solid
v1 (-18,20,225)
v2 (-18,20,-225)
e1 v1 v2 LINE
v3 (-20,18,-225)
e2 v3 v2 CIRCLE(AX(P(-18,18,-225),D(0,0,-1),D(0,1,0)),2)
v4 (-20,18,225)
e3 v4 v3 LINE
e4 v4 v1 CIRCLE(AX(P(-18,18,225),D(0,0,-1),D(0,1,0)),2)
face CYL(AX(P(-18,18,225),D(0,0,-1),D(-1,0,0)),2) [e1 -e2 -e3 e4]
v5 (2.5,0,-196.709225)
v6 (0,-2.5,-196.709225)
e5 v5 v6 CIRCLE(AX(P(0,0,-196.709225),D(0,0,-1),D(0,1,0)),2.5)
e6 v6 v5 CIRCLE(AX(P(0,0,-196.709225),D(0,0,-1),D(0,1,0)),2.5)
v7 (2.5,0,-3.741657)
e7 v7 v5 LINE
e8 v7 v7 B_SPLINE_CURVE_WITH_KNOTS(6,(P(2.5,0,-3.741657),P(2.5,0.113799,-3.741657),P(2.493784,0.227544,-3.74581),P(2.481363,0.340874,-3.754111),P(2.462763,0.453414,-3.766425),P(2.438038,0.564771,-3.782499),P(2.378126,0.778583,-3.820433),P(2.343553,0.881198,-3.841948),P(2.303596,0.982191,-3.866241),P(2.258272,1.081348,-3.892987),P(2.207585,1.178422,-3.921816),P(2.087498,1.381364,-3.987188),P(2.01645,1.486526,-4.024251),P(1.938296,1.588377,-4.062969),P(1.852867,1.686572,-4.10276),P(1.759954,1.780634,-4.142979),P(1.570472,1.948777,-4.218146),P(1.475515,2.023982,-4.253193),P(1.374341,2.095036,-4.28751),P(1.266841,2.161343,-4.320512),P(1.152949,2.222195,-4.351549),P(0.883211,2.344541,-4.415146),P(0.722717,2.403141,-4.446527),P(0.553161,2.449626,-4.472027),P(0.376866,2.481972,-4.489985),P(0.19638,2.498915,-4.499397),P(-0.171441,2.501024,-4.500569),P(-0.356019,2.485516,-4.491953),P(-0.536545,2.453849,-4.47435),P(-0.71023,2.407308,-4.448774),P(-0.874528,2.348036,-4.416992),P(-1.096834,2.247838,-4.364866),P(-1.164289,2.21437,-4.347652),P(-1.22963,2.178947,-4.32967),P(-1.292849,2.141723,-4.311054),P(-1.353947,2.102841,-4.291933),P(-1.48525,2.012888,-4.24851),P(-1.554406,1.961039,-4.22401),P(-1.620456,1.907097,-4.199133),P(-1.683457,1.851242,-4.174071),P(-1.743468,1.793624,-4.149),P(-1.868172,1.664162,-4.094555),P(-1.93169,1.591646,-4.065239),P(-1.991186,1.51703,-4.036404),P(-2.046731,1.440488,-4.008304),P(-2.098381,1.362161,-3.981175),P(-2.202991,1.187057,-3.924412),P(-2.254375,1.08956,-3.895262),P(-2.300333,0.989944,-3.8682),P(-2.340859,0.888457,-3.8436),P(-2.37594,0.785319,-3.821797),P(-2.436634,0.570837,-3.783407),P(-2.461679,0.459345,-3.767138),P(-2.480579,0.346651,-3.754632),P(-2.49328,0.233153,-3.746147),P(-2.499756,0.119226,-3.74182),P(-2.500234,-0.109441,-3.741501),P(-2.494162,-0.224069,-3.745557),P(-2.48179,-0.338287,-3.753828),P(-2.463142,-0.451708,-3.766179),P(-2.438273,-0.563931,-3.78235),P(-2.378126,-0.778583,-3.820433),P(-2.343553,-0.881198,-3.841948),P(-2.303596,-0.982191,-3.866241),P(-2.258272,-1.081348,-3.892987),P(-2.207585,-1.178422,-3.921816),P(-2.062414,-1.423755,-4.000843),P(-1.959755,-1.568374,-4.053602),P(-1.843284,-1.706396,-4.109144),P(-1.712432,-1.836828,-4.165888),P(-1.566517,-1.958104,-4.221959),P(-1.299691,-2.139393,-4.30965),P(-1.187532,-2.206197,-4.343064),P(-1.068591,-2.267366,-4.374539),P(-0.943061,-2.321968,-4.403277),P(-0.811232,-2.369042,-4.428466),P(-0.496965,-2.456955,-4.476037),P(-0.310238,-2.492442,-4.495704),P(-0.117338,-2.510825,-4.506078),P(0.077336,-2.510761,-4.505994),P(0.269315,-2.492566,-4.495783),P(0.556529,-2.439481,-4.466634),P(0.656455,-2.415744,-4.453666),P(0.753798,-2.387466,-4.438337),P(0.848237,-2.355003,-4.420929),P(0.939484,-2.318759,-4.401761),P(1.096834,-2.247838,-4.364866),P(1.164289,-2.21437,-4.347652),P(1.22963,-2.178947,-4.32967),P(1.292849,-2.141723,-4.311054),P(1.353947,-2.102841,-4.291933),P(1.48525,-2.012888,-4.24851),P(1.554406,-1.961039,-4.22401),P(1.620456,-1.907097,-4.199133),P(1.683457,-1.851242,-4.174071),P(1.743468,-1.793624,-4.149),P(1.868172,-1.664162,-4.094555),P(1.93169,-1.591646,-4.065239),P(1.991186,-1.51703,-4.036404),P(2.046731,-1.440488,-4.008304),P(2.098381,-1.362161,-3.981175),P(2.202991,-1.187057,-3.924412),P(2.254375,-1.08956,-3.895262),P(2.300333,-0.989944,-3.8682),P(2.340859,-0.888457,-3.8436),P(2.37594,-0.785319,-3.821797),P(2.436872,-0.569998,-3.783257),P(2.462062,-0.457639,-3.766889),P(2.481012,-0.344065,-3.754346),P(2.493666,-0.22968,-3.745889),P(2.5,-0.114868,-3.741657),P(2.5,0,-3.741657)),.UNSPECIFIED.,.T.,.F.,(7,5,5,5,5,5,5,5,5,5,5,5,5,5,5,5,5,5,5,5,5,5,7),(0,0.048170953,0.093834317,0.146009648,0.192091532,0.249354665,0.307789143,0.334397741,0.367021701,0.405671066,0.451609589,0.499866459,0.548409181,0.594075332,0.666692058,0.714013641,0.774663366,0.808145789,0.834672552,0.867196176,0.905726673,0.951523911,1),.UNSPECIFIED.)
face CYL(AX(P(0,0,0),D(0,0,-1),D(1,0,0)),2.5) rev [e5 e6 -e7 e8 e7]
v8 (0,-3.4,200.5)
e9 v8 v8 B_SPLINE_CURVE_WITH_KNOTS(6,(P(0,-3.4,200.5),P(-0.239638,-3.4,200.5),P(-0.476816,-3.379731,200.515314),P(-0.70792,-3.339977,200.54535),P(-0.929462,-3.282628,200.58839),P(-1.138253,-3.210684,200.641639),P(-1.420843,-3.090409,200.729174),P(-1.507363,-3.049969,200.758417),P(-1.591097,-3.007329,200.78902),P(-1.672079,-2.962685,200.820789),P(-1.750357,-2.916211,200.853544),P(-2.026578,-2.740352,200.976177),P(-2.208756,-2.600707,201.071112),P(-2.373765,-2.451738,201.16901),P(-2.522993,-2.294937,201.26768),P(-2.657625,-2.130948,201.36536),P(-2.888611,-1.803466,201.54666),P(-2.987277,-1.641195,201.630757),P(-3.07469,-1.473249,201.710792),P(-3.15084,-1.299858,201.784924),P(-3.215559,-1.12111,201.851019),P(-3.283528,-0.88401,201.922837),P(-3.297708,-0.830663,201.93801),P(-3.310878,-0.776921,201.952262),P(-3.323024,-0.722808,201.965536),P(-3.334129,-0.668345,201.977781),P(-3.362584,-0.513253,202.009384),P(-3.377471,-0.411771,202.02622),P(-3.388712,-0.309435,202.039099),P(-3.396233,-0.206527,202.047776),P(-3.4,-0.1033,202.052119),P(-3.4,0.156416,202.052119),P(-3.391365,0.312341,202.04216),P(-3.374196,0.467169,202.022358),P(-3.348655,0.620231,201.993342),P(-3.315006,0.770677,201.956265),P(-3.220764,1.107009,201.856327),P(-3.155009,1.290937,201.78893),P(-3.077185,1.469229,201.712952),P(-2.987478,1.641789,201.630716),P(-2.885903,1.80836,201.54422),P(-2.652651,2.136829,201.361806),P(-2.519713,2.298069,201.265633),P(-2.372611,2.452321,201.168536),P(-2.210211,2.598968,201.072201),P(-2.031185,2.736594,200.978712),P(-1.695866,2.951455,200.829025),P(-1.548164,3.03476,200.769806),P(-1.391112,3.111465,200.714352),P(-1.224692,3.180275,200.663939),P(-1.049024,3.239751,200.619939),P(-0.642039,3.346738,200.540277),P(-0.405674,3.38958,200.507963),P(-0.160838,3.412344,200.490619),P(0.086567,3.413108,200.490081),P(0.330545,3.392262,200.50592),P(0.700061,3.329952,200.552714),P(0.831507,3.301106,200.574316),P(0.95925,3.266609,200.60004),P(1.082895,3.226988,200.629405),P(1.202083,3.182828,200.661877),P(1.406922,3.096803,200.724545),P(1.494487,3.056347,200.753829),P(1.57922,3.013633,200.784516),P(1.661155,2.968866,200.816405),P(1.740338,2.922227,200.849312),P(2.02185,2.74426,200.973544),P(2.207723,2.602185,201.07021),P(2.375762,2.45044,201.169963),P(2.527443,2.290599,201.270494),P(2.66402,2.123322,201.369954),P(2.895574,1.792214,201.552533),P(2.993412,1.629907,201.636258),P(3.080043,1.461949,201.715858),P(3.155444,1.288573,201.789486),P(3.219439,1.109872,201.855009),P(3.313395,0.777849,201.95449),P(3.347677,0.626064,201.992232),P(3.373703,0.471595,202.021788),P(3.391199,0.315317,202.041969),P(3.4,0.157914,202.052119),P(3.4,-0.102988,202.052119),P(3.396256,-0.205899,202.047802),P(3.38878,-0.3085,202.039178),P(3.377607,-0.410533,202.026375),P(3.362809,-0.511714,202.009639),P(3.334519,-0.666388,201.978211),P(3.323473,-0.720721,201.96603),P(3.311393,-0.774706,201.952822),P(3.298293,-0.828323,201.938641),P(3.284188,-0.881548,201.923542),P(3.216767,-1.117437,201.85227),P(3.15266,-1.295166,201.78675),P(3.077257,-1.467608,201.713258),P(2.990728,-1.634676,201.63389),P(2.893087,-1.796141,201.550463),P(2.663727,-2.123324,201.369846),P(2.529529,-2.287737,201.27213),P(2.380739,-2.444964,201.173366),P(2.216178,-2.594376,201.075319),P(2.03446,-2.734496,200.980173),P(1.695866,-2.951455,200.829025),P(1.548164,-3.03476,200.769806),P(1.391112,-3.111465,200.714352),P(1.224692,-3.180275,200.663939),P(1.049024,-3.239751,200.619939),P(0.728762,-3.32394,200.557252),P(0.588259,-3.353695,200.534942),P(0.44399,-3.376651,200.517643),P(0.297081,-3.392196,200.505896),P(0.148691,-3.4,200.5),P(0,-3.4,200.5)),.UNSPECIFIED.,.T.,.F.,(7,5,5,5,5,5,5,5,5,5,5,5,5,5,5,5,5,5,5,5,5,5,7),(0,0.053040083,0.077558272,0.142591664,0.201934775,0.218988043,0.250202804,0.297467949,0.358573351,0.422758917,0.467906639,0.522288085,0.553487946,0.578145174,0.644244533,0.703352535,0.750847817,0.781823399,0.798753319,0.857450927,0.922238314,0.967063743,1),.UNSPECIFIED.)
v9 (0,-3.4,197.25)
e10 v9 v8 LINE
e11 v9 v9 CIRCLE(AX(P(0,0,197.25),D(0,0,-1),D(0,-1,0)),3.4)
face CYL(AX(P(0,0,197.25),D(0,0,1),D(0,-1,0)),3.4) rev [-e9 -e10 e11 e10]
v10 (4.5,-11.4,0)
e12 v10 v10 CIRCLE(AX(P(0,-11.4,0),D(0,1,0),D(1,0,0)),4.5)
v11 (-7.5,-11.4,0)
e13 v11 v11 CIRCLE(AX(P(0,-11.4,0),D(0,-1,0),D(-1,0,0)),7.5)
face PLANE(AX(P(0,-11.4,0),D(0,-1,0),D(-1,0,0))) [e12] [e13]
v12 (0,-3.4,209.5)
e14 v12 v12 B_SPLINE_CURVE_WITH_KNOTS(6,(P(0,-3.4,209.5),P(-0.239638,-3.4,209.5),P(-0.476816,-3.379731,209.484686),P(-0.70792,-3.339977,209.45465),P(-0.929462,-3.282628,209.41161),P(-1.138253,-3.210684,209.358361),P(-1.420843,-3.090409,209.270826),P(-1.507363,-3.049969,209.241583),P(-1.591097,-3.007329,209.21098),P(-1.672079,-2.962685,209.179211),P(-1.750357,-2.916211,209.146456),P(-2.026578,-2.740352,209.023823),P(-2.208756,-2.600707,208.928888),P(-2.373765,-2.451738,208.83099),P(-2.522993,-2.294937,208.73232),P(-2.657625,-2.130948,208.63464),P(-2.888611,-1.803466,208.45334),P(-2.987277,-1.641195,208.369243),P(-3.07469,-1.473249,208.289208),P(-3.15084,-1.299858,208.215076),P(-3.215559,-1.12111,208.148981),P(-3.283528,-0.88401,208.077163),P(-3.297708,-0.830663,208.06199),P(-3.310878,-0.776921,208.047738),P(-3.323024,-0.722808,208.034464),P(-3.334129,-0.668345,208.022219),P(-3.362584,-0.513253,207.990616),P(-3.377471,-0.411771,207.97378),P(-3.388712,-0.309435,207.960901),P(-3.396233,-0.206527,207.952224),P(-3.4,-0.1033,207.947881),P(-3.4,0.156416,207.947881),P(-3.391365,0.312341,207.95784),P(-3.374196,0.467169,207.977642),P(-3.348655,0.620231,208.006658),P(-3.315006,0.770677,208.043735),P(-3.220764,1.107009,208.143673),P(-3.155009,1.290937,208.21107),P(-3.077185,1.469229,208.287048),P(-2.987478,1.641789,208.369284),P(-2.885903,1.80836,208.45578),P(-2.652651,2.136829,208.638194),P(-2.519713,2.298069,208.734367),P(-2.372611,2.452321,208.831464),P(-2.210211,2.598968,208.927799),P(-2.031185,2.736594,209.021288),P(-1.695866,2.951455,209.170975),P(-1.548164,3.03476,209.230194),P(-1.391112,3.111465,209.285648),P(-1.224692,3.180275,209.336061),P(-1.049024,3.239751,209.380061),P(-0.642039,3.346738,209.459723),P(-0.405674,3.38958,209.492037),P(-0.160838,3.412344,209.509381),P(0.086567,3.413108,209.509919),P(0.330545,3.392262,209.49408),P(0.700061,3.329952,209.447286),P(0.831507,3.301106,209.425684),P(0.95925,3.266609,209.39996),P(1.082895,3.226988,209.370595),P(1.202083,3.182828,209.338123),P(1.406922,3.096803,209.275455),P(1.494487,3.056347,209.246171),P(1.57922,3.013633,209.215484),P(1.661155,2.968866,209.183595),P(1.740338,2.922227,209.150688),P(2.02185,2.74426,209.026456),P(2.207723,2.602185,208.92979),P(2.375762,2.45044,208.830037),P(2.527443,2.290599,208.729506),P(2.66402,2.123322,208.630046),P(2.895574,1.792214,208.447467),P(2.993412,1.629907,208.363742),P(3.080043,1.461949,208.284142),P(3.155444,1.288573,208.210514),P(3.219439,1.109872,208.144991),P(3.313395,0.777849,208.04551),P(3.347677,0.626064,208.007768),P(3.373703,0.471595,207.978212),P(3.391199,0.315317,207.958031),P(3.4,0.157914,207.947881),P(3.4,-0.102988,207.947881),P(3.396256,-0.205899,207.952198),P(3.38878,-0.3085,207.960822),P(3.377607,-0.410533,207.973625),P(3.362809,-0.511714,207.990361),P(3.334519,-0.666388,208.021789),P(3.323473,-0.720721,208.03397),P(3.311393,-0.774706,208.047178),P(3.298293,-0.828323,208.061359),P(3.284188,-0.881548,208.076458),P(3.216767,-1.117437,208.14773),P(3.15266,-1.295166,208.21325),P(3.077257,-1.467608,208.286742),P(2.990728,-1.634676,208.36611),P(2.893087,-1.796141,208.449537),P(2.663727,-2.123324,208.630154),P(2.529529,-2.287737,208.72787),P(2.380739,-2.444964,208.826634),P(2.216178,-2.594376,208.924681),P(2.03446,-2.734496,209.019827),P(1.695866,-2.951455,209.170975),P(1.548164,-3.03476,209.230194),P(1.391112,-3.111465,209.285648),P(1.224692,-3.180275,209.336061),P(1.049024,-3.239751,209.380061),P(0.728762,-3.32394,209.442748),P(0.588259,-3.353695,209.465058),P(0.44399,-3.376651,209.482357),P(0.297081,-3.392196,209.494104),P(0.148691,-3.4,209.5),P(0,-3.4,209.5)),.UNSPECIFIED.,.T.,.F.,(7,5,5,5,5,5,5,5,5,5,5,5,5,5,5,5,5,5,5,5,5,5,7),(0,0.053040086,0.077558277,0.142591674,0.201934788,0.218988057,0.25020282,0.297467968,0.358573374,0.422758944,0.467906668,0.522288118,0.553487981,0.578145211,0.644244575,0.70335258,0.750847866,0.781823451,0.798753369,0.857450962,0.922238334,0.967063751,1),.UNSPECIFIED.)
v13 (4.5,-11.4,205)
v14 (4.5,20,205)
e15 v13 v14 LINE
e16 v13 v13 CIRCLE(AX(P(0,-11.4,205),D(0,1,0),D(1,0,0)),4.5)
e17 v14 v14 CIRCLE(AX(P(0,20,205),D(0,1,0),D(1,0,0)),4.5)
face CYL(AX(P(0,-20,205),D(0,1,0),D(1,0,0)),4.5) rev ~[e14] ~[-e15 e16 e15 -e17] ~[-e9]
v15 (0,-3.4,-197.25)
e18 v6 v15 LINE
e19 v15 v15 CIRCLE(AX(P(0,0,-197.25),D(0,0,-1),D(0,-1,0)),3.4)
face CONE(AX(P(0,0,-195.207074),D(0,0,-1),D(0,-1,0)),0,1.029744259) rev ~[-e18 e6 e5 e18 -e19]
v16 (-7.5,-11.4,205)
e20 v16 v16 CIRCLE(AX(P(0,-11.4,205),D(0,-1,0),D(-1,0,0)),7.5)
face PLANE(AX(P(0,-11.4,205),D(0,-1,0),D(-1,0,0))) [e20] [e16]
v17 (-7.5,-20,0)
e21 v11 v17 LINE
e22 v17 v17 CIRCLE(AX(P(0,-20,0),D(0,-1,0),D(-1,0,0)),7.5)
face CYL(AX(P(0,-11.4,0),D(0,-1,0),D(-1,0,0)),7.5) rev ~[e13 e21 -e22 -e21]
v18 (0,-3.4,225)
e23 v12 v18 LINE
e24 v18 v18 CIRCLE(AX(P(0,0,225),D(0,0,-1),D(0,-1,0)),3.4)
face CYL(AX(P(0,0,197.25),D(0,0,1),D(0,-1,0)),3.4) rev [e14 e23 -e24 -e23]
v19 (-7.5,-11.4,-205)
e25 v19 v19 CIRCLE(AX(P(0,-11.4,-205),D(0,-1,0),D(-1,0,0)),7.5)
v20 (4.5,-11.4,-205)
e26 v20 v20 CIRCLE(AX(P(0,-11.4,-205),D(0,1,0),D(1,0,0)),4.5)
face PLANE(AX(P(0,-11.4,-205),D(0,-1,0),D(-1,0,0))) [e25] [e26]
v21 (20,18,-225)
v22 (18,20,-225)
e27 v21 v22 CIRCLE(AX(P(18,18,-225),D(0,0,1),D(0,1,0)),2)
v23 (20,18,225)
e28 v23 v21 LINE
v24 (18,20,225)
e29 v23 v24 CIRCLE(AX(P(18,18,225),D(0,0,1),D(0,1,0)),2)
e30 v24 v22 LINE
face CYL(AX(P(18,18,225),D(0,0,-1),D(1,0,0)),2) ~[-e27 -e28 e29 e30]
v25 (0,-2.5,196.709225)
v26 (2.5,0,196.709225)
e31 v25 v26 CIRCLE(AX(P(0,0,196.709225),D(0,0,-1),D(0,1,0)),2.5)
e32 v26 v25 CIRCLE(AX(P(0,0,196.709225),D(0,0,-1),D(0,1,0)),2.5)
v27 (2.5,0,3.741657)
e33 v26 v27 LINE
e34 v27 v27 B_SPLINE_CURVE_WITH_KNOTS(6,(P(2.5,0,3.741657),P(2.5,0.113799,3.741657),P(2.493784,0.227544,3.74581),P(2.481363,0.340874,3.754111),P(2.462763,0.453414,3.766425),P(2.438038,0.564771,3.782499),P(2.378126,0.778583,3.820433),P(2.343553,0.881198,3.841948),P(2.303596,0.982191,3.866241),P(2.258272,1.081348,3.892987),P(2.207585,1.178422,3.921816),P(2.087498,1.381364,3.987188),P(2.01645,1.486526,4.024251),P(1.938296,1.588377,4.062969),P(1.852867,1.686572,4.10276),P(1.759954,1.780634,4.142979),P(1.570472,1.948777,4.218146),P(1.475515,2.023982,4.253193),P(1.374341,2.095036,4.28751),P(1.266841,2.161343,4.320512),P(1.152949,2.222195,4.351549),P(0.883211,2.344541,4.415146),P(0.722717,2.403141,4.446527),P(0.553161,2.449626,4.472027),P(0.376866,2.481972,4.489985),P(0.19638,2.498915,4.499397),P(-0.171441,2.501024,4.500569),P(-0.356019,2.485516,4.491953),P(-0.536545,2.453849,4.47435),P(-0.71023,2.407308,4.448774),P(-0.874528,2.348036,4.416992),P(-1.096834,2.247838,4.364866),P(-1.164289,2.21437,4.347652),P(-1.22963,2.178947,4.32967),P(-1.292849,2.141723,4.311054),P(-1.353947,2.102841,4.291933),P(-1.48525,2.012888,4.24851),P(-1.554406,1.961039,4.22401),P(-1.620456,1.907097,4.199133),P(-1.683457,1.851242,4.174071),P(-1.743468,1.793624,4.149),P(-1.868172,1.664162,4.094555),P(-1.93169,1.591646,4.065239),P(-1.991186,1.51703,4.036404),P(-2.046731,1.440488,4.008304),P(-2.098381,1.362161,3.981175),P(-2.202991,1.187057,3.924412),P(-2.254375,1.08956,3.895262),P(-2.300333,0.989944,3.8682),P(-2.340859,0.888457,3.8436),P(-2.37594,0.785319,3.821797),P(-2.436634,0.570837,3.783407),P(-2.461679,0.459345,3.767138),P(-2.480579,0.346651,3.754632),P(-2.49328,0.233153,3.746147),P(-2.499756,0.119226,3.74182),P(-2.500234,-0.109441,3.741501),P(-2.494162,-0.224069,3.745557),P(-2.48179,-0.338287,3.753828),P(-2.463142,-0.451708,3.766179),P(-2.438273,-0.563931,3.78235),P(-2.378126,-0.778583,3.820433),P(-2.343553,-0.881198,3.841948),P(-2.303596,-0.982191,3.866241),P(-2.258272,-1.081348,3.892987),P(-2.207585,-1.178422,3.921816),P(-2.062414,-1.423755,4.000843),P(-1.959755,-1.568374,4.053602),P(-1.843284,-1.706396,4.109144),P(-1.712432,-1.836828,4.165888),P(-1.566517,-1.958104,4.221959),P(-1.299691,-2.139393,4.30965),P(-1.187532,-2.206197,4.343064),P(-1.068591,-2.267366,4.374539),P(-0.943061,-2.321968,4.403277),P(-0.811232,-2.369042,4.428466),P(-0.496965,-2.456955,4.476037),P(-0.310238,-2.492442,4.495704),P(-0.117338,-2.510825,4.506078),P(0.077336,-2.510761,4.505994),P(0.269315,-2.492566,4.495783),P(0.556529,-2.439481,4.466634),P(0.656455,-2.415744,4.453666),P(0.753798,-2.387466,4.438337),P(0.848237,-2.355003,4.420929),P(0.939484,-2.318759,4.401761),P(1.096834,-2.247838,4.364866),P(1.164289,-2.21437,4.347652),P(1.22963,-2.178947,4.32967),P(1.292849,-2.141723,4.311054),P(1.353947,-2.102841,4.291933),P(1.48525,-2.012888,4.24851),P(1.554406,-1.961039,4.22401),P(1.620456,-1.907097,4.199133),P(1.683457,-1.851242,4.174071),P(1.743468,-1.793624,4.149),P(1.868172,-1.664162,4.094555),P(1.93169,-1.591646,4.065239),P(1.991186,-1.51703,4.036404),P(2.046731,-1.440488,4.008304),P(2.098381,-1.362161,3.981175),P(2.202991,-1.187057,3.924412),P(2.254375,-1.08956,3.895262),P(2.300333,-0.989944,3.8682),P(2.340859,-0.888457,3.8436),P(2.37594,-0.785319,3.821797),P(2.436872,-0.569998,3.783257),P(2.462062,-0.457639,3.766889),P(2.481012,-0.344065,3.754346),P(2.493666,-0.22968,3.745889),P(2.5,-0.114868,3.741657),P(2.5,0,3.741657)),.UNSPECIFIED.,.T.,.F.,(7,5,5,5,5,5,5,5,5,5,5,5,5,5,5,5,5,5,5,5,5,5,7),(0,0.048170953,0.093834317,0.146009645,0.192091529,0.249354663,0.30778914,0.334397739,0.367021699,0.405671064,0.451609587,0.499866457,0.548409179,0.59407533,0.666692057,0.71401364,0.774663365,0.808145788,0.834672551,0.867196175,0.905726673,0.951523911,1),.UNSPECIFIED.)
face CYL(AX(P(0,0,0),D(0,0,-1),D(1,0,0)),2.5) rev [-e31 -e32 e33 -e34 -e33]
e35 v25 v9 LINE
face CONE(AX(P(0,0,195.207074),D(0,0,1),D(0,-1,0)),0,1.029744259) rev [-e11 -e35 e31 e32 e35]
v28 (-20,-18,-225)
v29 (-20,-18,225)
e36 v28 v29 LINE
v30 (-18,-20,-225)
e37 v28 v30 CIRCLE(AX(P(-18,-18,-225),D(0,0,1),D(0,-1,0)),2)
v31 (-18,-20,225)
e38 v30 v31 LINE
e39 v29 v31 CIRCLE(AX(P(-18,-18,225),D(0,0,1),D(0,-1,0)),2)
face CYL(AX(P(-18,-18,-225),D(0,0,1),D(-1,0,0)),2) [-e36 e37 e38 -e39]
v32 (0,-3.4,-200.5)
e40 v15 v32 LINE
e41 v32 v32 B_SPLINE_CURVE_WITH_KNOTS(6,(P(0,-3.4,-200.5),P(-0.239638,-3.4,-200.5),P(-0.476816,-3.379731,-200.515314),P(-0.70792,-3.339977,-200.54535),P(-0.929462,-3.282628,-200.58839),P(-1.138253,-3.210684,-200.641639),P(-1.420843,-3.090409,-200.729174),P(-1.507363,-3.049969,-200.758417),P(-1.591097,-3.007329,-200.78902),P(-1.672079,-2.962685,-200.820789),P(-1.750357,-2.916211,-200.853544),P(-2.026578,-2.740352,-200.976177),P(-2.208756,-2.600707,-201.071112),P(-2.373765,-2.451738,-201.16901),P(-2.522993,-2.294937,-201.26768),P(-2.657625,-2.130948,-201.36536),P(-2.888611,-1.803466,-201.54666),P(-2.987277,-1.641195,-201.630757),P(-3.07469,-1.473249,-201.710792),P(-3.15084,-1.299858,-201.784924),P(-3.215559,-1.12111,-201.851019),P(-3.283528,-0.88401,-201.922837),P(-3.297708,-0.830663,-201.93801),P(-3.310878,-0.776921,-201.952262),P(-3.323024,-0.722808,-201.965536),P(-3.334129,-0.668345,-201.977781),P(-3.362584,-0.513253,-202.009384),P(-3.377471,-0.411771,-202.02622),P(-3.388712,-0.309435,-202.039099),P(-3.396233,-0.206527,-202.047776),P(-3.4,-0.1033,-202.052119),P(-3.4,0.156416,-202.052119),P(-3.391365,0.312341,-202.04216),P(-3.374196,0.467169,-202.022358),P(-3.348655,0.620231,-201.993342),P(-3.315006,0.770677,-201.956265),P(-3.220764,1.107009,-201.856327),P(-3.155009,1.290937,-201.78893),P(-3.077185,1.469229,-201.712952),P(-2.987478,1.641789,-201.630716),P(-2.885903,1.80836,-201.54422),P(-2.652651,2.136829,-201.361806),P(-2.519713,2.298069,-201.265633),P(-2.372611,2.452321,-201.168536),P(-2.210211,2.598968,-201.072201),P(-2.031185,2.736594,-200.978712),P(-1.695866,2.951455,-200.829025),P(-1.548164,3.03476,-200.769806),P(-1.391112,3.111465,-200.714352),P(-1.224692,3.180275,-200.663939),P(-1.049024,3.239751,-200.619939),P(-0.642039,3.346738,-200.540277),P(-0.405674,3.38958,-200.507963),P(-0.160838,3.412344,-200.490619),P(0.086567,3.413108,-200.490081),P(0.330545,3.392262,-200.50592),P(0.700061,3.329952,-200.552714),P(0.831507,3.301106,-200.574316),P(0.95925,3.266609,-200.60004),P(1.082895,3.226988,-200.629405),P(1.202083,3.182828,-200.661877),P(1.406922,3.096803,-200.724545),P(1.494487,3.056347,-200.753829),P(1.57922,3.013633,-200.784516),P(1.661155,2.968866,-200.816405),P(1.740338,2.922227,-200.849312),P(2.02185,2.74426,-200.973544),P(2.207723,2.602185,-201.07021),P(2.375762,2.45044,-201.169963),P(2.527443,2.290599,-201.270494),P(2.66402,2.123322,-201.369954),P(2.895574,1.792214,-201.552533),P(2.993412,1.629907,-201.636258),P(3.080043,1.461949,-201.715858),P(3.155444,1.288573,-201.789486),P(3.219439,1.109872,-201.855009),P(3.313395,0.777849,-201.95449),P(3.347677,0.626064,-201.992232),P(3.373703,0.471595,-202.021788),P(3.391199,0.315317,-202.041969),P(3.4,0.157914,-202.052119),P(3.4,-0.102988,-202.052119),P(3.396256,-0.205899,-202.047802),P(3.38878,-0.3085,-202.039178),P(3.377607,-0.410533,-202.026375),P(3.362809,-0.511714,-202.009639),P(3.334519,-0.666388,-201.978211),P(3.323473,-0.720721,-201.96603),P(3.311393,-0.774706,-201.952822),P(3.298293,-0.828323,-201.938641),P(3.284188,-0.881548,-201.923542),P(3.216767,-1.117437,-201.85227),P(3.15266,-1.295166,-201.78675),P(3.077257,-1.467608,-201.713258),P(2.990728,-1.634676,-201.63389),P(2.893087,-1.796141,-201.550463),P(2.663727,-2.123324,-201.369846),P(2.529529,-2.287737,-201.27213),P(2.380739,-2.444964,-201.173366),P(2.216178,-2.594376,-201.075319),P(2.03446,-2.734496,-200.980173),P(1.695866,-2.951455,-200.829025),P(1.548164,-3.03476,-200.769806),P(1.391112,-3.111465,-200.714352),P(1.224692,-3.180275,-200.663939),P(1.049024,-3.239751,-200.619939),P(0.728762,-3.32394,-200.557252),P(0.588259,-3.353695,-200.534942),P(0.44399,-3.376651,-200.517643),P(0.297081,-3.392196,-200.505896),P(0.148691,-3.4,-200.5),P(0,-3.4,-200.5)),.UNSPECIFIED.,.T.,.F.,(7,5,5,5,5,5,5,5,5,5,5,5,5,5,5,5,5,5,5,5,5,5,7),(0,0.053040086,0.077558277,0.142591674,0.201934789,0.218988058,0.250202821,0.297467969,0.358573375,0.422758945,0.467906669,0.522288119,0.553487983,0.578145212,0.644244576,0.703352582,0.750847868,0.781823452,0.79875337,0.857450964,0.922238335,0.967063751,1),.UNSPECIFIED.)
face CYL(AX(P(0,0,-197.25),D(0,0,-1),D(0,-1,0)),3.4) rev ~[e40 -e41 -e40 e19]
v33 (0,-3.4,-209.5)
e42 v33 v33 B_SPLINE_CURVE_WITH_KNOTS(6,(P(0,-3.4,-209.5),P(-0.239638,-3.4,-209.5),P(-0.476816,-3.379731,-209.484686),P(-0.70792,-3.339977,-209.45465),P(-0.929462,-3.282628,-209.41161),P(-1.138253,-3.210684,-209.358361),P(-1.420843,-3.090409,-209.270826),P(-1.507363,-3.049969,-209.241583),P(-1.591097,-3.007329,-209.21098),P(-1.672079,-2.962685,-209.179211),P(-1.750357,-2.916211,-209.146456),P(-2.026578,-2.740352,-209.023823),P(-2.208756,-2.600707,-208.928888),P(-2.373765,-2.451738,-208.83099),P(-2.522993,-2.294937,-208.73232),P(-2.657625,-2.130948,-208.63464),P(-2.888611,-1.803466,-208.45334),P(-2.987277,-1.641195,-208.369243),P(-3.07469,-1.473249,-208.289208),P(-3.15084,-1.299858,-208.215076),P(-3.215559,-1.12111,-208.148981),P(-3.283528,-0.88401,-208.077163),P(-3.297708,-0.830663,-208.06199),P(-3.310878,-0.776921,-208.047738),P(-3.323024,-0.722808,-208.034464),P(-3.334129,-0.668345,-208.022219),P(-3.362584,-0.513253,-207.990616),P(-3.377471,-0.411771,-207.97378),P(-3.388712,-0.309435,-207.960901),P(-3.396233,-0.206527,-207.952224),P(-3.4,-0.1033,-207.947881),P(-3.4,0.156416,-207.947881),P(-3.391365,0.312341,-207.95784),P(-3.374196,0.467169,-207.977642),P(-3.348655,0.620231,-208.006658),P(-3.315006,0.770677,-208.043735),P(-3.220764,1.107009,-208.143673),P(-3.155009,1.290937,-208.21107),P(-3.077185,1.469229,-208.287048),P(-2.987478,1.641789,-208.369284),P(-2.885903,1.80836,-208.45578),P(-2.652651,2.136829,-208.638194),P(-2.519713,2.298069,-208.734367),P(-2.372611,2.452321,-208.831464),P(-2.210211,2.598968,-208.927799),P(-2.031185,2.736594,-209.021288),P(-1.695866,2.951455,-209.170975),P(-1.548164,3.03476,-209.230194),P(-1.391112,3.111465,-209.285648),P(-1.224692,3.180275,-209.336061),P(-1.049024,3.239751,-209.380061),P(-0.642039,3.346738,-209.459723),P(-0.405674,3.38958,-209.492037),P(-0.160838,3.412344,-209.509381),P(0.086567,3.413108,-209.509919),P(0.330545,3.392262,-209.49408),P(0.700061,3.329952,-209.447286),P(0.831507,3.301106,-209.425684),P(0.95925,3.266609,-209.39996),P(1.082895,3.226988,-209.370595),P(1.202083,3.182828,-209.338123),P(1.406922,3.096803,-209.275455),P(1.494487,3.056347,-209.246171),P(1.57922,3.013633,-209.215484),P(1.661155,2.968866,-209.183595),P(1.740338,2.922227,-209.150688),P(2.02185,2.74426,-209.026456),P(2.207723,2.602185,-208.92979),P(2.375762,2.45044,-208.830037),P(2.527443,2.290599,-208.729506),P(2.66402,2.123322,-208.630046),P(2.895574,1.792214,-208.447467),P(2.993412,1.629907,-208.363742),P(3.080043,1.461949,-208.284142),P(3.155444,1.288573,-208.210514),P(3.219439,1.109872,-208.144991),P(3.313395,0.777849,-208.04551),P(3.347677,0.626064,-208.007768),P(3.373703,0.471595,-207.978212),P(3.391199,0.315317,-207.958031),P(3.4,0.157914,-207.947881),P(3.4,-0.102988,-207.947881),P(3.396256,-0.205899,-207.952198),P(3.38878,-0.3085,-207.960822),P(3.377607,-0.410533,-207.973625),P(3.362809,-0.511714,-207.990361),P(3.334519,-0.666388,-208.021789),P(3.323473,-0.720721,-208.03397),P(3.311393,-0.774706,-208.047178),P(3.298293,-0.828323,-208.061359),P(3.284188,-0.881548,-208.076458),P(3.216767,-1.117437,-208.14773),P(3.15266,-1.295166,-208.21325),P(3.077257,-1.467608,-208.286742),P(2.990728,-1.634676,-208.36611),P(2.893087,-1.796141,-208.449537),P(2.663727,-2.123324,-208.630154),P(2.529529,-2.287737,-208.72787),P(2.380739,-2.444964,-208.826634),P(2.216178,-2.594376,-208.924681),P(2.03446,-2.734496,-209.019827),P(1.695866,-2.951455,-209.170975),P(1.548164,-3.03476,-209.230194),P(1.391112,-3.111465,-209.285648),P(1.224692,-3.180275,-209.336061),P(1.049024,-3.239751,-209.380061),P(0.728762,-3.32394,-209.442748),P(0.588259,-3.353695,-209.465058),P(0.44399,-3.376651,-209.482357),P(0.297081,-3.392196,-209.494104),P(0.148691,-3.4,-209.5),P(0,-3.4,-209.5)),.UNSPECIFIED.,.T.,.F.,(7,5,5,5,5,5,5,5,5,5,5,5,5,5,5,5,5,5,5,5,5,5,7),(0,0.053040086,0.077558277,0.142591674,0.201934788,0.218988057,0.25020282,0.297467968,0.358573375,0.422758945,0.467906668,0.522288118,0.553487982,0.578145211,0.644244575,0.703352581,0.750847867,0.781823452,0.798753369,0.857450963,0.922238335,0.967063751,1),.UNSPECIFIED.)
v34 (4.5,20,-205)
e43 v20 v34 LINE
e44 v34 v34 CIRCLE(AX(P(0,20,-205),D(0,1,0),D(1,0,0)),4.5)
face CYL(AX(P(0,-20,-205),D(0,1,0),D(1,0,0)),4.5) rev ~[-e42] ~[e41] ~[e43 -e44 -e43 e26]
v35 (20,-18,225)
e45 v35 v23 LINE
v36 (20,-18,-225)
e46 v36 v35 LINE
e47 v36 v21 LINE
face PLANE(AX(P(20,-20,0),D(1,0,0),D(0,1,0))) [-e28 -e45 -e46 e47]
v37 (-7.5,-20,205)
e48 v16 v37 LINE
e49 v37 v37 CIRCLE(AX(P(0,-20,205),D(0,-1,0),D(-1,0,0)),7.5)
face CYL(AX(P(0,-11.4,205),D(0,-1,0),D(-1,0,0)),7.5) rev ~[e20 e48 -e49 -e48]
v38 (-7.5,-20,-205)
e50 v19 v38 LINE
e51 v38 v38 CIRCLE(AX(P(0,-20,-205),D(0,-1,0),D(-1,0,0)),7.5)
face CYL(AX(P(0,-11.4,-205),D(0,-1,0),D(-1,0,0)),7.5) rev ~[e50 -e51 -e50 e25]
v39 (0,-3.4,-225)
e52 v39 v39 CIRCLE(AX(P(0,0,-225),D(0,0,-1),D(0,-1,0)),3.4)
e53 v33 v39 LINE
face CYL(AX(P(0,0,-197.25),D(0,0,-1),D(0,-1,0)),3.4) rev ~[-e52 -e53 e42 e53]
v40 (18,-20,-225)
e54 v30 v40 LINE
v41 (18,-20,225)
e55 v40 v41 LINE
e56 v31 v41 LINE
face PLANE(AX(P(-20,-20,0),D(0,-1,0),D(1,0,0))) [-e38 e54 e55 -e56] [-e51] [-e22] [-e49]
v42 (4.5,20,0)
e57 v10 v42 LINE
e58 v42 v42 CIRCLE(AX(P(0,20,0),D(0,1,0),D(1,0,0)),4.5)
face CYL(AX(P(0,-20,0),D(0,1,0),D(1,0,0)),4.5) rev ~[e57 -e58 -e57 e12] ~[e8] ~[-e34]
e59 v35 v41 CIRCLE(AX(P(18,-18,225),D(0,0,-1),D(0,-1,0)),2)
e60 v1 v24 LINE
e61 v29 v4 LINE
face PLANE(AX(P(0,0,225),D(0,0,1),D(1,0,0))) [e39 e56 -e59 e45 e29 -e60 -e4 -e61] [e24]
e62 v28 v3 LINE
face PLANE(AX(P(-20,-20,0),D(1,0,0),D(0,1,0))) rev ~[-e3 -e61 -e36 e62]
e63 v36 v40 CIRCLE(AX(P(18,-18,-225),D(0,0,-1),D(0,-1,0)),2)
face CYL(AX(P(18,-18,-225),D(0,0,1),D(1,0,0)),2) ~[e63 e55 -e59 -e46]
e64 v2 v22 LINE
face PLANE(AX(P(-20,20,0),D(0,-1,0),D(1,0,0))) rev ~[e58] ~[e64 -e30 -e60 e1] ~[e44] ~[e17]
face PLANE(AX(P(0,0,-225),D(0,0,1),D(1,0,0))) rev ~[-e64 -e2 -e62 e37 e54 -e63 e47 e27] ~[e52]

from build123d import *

# Parameters (mm, degrees)
SKETCH1_W                                           = 40
SKETCH1_H                                           = 40
SKETCH1_R                                           = 2.5
BOSS_EXTRUDE1_DEPTH                                 = 225
FILLET1_R                                           = 2
CBORE_FOR_M8_HEX_SOCKET_HEAD_CAP_SCREW1_D           = 9
CBORE_FOR_M8_HEX_SOCKET_HEAD_CAP_SCREW1_CBORE_D     = 15
CBORE_FOR_M8_HEX_SOCKET_HEAD_CAP_SCREW1_CBORE_DEPTH = 8.6


with BuildPart() as part:
    # Sketch1 → Boss-Extrude1 (new, symmetric)
    with BuildSketch(Plane.XY):
        Rectangle(SKETCH1_W, SKETCH1_H)
        Circle(SKETCH1_R, mode=Mode.SUBTRACT)
    extrude(amount=BOSS_EXTRUDE1_DEPTH, both=True)

    # Fillet1
    fillet1_edges = [part.edges().sort_by_distance(p)[0] for p in [
        (20, -20, 0),
        (-20, -20, 0),
        (-20, 20, 0),
        (20, 20, 0),
    ]]
    fillet(fillet1_edges, radius=FILLET1_R)

    # CBORE for M8 Hex Socket Head Cap Screw1 (through all)
    with Locations(Plane(origin=(0, -20, 0), x_dir=(-1, 0, 0), z_dir=(0, -1, 0))):
        with Locations((0, 500), (0, 0), (0, -500), (0, 205), (0, -205)):
            CounterBoreHole(CBORE_FOR_M8_HEX_SOCKET_HEAD_CAP_SCREW1_D / 2, CBORE_FOR_M8_HEX_SOCKET_HEAD_CAP_SCREW1_CBORE_D / 2, CBORE_FOR_M8_HEX_SOCKET_HEAD_CAP_SCREW1_CBORE_DEPTH)

    # Sketch9 → M8x1.25 Tapped Hole1 (revolve, cut)
    with BuildSketch(Plane(origin=(0, 0, 225), x_dir=(0, -1, 0), z_dir=(1, 0, 0))):
        Polygon((0, 0), (0, 29.792926105), (3.4, 27.75), (3.4, 0), align=None)
    m8x1_25_tapped_hole1 = revolve(axis=Axis((0, 0, 231.35), (0, 0, -1)), mode=Mode.SUBTRACT)

    # Mirror1: M8x1.25 Tapped Hole1 across plane
    add(m8x1_25_tapped_hole1.mirror(Plane.XY), mode=Mode.SUBTRACT)


solid = part.part
